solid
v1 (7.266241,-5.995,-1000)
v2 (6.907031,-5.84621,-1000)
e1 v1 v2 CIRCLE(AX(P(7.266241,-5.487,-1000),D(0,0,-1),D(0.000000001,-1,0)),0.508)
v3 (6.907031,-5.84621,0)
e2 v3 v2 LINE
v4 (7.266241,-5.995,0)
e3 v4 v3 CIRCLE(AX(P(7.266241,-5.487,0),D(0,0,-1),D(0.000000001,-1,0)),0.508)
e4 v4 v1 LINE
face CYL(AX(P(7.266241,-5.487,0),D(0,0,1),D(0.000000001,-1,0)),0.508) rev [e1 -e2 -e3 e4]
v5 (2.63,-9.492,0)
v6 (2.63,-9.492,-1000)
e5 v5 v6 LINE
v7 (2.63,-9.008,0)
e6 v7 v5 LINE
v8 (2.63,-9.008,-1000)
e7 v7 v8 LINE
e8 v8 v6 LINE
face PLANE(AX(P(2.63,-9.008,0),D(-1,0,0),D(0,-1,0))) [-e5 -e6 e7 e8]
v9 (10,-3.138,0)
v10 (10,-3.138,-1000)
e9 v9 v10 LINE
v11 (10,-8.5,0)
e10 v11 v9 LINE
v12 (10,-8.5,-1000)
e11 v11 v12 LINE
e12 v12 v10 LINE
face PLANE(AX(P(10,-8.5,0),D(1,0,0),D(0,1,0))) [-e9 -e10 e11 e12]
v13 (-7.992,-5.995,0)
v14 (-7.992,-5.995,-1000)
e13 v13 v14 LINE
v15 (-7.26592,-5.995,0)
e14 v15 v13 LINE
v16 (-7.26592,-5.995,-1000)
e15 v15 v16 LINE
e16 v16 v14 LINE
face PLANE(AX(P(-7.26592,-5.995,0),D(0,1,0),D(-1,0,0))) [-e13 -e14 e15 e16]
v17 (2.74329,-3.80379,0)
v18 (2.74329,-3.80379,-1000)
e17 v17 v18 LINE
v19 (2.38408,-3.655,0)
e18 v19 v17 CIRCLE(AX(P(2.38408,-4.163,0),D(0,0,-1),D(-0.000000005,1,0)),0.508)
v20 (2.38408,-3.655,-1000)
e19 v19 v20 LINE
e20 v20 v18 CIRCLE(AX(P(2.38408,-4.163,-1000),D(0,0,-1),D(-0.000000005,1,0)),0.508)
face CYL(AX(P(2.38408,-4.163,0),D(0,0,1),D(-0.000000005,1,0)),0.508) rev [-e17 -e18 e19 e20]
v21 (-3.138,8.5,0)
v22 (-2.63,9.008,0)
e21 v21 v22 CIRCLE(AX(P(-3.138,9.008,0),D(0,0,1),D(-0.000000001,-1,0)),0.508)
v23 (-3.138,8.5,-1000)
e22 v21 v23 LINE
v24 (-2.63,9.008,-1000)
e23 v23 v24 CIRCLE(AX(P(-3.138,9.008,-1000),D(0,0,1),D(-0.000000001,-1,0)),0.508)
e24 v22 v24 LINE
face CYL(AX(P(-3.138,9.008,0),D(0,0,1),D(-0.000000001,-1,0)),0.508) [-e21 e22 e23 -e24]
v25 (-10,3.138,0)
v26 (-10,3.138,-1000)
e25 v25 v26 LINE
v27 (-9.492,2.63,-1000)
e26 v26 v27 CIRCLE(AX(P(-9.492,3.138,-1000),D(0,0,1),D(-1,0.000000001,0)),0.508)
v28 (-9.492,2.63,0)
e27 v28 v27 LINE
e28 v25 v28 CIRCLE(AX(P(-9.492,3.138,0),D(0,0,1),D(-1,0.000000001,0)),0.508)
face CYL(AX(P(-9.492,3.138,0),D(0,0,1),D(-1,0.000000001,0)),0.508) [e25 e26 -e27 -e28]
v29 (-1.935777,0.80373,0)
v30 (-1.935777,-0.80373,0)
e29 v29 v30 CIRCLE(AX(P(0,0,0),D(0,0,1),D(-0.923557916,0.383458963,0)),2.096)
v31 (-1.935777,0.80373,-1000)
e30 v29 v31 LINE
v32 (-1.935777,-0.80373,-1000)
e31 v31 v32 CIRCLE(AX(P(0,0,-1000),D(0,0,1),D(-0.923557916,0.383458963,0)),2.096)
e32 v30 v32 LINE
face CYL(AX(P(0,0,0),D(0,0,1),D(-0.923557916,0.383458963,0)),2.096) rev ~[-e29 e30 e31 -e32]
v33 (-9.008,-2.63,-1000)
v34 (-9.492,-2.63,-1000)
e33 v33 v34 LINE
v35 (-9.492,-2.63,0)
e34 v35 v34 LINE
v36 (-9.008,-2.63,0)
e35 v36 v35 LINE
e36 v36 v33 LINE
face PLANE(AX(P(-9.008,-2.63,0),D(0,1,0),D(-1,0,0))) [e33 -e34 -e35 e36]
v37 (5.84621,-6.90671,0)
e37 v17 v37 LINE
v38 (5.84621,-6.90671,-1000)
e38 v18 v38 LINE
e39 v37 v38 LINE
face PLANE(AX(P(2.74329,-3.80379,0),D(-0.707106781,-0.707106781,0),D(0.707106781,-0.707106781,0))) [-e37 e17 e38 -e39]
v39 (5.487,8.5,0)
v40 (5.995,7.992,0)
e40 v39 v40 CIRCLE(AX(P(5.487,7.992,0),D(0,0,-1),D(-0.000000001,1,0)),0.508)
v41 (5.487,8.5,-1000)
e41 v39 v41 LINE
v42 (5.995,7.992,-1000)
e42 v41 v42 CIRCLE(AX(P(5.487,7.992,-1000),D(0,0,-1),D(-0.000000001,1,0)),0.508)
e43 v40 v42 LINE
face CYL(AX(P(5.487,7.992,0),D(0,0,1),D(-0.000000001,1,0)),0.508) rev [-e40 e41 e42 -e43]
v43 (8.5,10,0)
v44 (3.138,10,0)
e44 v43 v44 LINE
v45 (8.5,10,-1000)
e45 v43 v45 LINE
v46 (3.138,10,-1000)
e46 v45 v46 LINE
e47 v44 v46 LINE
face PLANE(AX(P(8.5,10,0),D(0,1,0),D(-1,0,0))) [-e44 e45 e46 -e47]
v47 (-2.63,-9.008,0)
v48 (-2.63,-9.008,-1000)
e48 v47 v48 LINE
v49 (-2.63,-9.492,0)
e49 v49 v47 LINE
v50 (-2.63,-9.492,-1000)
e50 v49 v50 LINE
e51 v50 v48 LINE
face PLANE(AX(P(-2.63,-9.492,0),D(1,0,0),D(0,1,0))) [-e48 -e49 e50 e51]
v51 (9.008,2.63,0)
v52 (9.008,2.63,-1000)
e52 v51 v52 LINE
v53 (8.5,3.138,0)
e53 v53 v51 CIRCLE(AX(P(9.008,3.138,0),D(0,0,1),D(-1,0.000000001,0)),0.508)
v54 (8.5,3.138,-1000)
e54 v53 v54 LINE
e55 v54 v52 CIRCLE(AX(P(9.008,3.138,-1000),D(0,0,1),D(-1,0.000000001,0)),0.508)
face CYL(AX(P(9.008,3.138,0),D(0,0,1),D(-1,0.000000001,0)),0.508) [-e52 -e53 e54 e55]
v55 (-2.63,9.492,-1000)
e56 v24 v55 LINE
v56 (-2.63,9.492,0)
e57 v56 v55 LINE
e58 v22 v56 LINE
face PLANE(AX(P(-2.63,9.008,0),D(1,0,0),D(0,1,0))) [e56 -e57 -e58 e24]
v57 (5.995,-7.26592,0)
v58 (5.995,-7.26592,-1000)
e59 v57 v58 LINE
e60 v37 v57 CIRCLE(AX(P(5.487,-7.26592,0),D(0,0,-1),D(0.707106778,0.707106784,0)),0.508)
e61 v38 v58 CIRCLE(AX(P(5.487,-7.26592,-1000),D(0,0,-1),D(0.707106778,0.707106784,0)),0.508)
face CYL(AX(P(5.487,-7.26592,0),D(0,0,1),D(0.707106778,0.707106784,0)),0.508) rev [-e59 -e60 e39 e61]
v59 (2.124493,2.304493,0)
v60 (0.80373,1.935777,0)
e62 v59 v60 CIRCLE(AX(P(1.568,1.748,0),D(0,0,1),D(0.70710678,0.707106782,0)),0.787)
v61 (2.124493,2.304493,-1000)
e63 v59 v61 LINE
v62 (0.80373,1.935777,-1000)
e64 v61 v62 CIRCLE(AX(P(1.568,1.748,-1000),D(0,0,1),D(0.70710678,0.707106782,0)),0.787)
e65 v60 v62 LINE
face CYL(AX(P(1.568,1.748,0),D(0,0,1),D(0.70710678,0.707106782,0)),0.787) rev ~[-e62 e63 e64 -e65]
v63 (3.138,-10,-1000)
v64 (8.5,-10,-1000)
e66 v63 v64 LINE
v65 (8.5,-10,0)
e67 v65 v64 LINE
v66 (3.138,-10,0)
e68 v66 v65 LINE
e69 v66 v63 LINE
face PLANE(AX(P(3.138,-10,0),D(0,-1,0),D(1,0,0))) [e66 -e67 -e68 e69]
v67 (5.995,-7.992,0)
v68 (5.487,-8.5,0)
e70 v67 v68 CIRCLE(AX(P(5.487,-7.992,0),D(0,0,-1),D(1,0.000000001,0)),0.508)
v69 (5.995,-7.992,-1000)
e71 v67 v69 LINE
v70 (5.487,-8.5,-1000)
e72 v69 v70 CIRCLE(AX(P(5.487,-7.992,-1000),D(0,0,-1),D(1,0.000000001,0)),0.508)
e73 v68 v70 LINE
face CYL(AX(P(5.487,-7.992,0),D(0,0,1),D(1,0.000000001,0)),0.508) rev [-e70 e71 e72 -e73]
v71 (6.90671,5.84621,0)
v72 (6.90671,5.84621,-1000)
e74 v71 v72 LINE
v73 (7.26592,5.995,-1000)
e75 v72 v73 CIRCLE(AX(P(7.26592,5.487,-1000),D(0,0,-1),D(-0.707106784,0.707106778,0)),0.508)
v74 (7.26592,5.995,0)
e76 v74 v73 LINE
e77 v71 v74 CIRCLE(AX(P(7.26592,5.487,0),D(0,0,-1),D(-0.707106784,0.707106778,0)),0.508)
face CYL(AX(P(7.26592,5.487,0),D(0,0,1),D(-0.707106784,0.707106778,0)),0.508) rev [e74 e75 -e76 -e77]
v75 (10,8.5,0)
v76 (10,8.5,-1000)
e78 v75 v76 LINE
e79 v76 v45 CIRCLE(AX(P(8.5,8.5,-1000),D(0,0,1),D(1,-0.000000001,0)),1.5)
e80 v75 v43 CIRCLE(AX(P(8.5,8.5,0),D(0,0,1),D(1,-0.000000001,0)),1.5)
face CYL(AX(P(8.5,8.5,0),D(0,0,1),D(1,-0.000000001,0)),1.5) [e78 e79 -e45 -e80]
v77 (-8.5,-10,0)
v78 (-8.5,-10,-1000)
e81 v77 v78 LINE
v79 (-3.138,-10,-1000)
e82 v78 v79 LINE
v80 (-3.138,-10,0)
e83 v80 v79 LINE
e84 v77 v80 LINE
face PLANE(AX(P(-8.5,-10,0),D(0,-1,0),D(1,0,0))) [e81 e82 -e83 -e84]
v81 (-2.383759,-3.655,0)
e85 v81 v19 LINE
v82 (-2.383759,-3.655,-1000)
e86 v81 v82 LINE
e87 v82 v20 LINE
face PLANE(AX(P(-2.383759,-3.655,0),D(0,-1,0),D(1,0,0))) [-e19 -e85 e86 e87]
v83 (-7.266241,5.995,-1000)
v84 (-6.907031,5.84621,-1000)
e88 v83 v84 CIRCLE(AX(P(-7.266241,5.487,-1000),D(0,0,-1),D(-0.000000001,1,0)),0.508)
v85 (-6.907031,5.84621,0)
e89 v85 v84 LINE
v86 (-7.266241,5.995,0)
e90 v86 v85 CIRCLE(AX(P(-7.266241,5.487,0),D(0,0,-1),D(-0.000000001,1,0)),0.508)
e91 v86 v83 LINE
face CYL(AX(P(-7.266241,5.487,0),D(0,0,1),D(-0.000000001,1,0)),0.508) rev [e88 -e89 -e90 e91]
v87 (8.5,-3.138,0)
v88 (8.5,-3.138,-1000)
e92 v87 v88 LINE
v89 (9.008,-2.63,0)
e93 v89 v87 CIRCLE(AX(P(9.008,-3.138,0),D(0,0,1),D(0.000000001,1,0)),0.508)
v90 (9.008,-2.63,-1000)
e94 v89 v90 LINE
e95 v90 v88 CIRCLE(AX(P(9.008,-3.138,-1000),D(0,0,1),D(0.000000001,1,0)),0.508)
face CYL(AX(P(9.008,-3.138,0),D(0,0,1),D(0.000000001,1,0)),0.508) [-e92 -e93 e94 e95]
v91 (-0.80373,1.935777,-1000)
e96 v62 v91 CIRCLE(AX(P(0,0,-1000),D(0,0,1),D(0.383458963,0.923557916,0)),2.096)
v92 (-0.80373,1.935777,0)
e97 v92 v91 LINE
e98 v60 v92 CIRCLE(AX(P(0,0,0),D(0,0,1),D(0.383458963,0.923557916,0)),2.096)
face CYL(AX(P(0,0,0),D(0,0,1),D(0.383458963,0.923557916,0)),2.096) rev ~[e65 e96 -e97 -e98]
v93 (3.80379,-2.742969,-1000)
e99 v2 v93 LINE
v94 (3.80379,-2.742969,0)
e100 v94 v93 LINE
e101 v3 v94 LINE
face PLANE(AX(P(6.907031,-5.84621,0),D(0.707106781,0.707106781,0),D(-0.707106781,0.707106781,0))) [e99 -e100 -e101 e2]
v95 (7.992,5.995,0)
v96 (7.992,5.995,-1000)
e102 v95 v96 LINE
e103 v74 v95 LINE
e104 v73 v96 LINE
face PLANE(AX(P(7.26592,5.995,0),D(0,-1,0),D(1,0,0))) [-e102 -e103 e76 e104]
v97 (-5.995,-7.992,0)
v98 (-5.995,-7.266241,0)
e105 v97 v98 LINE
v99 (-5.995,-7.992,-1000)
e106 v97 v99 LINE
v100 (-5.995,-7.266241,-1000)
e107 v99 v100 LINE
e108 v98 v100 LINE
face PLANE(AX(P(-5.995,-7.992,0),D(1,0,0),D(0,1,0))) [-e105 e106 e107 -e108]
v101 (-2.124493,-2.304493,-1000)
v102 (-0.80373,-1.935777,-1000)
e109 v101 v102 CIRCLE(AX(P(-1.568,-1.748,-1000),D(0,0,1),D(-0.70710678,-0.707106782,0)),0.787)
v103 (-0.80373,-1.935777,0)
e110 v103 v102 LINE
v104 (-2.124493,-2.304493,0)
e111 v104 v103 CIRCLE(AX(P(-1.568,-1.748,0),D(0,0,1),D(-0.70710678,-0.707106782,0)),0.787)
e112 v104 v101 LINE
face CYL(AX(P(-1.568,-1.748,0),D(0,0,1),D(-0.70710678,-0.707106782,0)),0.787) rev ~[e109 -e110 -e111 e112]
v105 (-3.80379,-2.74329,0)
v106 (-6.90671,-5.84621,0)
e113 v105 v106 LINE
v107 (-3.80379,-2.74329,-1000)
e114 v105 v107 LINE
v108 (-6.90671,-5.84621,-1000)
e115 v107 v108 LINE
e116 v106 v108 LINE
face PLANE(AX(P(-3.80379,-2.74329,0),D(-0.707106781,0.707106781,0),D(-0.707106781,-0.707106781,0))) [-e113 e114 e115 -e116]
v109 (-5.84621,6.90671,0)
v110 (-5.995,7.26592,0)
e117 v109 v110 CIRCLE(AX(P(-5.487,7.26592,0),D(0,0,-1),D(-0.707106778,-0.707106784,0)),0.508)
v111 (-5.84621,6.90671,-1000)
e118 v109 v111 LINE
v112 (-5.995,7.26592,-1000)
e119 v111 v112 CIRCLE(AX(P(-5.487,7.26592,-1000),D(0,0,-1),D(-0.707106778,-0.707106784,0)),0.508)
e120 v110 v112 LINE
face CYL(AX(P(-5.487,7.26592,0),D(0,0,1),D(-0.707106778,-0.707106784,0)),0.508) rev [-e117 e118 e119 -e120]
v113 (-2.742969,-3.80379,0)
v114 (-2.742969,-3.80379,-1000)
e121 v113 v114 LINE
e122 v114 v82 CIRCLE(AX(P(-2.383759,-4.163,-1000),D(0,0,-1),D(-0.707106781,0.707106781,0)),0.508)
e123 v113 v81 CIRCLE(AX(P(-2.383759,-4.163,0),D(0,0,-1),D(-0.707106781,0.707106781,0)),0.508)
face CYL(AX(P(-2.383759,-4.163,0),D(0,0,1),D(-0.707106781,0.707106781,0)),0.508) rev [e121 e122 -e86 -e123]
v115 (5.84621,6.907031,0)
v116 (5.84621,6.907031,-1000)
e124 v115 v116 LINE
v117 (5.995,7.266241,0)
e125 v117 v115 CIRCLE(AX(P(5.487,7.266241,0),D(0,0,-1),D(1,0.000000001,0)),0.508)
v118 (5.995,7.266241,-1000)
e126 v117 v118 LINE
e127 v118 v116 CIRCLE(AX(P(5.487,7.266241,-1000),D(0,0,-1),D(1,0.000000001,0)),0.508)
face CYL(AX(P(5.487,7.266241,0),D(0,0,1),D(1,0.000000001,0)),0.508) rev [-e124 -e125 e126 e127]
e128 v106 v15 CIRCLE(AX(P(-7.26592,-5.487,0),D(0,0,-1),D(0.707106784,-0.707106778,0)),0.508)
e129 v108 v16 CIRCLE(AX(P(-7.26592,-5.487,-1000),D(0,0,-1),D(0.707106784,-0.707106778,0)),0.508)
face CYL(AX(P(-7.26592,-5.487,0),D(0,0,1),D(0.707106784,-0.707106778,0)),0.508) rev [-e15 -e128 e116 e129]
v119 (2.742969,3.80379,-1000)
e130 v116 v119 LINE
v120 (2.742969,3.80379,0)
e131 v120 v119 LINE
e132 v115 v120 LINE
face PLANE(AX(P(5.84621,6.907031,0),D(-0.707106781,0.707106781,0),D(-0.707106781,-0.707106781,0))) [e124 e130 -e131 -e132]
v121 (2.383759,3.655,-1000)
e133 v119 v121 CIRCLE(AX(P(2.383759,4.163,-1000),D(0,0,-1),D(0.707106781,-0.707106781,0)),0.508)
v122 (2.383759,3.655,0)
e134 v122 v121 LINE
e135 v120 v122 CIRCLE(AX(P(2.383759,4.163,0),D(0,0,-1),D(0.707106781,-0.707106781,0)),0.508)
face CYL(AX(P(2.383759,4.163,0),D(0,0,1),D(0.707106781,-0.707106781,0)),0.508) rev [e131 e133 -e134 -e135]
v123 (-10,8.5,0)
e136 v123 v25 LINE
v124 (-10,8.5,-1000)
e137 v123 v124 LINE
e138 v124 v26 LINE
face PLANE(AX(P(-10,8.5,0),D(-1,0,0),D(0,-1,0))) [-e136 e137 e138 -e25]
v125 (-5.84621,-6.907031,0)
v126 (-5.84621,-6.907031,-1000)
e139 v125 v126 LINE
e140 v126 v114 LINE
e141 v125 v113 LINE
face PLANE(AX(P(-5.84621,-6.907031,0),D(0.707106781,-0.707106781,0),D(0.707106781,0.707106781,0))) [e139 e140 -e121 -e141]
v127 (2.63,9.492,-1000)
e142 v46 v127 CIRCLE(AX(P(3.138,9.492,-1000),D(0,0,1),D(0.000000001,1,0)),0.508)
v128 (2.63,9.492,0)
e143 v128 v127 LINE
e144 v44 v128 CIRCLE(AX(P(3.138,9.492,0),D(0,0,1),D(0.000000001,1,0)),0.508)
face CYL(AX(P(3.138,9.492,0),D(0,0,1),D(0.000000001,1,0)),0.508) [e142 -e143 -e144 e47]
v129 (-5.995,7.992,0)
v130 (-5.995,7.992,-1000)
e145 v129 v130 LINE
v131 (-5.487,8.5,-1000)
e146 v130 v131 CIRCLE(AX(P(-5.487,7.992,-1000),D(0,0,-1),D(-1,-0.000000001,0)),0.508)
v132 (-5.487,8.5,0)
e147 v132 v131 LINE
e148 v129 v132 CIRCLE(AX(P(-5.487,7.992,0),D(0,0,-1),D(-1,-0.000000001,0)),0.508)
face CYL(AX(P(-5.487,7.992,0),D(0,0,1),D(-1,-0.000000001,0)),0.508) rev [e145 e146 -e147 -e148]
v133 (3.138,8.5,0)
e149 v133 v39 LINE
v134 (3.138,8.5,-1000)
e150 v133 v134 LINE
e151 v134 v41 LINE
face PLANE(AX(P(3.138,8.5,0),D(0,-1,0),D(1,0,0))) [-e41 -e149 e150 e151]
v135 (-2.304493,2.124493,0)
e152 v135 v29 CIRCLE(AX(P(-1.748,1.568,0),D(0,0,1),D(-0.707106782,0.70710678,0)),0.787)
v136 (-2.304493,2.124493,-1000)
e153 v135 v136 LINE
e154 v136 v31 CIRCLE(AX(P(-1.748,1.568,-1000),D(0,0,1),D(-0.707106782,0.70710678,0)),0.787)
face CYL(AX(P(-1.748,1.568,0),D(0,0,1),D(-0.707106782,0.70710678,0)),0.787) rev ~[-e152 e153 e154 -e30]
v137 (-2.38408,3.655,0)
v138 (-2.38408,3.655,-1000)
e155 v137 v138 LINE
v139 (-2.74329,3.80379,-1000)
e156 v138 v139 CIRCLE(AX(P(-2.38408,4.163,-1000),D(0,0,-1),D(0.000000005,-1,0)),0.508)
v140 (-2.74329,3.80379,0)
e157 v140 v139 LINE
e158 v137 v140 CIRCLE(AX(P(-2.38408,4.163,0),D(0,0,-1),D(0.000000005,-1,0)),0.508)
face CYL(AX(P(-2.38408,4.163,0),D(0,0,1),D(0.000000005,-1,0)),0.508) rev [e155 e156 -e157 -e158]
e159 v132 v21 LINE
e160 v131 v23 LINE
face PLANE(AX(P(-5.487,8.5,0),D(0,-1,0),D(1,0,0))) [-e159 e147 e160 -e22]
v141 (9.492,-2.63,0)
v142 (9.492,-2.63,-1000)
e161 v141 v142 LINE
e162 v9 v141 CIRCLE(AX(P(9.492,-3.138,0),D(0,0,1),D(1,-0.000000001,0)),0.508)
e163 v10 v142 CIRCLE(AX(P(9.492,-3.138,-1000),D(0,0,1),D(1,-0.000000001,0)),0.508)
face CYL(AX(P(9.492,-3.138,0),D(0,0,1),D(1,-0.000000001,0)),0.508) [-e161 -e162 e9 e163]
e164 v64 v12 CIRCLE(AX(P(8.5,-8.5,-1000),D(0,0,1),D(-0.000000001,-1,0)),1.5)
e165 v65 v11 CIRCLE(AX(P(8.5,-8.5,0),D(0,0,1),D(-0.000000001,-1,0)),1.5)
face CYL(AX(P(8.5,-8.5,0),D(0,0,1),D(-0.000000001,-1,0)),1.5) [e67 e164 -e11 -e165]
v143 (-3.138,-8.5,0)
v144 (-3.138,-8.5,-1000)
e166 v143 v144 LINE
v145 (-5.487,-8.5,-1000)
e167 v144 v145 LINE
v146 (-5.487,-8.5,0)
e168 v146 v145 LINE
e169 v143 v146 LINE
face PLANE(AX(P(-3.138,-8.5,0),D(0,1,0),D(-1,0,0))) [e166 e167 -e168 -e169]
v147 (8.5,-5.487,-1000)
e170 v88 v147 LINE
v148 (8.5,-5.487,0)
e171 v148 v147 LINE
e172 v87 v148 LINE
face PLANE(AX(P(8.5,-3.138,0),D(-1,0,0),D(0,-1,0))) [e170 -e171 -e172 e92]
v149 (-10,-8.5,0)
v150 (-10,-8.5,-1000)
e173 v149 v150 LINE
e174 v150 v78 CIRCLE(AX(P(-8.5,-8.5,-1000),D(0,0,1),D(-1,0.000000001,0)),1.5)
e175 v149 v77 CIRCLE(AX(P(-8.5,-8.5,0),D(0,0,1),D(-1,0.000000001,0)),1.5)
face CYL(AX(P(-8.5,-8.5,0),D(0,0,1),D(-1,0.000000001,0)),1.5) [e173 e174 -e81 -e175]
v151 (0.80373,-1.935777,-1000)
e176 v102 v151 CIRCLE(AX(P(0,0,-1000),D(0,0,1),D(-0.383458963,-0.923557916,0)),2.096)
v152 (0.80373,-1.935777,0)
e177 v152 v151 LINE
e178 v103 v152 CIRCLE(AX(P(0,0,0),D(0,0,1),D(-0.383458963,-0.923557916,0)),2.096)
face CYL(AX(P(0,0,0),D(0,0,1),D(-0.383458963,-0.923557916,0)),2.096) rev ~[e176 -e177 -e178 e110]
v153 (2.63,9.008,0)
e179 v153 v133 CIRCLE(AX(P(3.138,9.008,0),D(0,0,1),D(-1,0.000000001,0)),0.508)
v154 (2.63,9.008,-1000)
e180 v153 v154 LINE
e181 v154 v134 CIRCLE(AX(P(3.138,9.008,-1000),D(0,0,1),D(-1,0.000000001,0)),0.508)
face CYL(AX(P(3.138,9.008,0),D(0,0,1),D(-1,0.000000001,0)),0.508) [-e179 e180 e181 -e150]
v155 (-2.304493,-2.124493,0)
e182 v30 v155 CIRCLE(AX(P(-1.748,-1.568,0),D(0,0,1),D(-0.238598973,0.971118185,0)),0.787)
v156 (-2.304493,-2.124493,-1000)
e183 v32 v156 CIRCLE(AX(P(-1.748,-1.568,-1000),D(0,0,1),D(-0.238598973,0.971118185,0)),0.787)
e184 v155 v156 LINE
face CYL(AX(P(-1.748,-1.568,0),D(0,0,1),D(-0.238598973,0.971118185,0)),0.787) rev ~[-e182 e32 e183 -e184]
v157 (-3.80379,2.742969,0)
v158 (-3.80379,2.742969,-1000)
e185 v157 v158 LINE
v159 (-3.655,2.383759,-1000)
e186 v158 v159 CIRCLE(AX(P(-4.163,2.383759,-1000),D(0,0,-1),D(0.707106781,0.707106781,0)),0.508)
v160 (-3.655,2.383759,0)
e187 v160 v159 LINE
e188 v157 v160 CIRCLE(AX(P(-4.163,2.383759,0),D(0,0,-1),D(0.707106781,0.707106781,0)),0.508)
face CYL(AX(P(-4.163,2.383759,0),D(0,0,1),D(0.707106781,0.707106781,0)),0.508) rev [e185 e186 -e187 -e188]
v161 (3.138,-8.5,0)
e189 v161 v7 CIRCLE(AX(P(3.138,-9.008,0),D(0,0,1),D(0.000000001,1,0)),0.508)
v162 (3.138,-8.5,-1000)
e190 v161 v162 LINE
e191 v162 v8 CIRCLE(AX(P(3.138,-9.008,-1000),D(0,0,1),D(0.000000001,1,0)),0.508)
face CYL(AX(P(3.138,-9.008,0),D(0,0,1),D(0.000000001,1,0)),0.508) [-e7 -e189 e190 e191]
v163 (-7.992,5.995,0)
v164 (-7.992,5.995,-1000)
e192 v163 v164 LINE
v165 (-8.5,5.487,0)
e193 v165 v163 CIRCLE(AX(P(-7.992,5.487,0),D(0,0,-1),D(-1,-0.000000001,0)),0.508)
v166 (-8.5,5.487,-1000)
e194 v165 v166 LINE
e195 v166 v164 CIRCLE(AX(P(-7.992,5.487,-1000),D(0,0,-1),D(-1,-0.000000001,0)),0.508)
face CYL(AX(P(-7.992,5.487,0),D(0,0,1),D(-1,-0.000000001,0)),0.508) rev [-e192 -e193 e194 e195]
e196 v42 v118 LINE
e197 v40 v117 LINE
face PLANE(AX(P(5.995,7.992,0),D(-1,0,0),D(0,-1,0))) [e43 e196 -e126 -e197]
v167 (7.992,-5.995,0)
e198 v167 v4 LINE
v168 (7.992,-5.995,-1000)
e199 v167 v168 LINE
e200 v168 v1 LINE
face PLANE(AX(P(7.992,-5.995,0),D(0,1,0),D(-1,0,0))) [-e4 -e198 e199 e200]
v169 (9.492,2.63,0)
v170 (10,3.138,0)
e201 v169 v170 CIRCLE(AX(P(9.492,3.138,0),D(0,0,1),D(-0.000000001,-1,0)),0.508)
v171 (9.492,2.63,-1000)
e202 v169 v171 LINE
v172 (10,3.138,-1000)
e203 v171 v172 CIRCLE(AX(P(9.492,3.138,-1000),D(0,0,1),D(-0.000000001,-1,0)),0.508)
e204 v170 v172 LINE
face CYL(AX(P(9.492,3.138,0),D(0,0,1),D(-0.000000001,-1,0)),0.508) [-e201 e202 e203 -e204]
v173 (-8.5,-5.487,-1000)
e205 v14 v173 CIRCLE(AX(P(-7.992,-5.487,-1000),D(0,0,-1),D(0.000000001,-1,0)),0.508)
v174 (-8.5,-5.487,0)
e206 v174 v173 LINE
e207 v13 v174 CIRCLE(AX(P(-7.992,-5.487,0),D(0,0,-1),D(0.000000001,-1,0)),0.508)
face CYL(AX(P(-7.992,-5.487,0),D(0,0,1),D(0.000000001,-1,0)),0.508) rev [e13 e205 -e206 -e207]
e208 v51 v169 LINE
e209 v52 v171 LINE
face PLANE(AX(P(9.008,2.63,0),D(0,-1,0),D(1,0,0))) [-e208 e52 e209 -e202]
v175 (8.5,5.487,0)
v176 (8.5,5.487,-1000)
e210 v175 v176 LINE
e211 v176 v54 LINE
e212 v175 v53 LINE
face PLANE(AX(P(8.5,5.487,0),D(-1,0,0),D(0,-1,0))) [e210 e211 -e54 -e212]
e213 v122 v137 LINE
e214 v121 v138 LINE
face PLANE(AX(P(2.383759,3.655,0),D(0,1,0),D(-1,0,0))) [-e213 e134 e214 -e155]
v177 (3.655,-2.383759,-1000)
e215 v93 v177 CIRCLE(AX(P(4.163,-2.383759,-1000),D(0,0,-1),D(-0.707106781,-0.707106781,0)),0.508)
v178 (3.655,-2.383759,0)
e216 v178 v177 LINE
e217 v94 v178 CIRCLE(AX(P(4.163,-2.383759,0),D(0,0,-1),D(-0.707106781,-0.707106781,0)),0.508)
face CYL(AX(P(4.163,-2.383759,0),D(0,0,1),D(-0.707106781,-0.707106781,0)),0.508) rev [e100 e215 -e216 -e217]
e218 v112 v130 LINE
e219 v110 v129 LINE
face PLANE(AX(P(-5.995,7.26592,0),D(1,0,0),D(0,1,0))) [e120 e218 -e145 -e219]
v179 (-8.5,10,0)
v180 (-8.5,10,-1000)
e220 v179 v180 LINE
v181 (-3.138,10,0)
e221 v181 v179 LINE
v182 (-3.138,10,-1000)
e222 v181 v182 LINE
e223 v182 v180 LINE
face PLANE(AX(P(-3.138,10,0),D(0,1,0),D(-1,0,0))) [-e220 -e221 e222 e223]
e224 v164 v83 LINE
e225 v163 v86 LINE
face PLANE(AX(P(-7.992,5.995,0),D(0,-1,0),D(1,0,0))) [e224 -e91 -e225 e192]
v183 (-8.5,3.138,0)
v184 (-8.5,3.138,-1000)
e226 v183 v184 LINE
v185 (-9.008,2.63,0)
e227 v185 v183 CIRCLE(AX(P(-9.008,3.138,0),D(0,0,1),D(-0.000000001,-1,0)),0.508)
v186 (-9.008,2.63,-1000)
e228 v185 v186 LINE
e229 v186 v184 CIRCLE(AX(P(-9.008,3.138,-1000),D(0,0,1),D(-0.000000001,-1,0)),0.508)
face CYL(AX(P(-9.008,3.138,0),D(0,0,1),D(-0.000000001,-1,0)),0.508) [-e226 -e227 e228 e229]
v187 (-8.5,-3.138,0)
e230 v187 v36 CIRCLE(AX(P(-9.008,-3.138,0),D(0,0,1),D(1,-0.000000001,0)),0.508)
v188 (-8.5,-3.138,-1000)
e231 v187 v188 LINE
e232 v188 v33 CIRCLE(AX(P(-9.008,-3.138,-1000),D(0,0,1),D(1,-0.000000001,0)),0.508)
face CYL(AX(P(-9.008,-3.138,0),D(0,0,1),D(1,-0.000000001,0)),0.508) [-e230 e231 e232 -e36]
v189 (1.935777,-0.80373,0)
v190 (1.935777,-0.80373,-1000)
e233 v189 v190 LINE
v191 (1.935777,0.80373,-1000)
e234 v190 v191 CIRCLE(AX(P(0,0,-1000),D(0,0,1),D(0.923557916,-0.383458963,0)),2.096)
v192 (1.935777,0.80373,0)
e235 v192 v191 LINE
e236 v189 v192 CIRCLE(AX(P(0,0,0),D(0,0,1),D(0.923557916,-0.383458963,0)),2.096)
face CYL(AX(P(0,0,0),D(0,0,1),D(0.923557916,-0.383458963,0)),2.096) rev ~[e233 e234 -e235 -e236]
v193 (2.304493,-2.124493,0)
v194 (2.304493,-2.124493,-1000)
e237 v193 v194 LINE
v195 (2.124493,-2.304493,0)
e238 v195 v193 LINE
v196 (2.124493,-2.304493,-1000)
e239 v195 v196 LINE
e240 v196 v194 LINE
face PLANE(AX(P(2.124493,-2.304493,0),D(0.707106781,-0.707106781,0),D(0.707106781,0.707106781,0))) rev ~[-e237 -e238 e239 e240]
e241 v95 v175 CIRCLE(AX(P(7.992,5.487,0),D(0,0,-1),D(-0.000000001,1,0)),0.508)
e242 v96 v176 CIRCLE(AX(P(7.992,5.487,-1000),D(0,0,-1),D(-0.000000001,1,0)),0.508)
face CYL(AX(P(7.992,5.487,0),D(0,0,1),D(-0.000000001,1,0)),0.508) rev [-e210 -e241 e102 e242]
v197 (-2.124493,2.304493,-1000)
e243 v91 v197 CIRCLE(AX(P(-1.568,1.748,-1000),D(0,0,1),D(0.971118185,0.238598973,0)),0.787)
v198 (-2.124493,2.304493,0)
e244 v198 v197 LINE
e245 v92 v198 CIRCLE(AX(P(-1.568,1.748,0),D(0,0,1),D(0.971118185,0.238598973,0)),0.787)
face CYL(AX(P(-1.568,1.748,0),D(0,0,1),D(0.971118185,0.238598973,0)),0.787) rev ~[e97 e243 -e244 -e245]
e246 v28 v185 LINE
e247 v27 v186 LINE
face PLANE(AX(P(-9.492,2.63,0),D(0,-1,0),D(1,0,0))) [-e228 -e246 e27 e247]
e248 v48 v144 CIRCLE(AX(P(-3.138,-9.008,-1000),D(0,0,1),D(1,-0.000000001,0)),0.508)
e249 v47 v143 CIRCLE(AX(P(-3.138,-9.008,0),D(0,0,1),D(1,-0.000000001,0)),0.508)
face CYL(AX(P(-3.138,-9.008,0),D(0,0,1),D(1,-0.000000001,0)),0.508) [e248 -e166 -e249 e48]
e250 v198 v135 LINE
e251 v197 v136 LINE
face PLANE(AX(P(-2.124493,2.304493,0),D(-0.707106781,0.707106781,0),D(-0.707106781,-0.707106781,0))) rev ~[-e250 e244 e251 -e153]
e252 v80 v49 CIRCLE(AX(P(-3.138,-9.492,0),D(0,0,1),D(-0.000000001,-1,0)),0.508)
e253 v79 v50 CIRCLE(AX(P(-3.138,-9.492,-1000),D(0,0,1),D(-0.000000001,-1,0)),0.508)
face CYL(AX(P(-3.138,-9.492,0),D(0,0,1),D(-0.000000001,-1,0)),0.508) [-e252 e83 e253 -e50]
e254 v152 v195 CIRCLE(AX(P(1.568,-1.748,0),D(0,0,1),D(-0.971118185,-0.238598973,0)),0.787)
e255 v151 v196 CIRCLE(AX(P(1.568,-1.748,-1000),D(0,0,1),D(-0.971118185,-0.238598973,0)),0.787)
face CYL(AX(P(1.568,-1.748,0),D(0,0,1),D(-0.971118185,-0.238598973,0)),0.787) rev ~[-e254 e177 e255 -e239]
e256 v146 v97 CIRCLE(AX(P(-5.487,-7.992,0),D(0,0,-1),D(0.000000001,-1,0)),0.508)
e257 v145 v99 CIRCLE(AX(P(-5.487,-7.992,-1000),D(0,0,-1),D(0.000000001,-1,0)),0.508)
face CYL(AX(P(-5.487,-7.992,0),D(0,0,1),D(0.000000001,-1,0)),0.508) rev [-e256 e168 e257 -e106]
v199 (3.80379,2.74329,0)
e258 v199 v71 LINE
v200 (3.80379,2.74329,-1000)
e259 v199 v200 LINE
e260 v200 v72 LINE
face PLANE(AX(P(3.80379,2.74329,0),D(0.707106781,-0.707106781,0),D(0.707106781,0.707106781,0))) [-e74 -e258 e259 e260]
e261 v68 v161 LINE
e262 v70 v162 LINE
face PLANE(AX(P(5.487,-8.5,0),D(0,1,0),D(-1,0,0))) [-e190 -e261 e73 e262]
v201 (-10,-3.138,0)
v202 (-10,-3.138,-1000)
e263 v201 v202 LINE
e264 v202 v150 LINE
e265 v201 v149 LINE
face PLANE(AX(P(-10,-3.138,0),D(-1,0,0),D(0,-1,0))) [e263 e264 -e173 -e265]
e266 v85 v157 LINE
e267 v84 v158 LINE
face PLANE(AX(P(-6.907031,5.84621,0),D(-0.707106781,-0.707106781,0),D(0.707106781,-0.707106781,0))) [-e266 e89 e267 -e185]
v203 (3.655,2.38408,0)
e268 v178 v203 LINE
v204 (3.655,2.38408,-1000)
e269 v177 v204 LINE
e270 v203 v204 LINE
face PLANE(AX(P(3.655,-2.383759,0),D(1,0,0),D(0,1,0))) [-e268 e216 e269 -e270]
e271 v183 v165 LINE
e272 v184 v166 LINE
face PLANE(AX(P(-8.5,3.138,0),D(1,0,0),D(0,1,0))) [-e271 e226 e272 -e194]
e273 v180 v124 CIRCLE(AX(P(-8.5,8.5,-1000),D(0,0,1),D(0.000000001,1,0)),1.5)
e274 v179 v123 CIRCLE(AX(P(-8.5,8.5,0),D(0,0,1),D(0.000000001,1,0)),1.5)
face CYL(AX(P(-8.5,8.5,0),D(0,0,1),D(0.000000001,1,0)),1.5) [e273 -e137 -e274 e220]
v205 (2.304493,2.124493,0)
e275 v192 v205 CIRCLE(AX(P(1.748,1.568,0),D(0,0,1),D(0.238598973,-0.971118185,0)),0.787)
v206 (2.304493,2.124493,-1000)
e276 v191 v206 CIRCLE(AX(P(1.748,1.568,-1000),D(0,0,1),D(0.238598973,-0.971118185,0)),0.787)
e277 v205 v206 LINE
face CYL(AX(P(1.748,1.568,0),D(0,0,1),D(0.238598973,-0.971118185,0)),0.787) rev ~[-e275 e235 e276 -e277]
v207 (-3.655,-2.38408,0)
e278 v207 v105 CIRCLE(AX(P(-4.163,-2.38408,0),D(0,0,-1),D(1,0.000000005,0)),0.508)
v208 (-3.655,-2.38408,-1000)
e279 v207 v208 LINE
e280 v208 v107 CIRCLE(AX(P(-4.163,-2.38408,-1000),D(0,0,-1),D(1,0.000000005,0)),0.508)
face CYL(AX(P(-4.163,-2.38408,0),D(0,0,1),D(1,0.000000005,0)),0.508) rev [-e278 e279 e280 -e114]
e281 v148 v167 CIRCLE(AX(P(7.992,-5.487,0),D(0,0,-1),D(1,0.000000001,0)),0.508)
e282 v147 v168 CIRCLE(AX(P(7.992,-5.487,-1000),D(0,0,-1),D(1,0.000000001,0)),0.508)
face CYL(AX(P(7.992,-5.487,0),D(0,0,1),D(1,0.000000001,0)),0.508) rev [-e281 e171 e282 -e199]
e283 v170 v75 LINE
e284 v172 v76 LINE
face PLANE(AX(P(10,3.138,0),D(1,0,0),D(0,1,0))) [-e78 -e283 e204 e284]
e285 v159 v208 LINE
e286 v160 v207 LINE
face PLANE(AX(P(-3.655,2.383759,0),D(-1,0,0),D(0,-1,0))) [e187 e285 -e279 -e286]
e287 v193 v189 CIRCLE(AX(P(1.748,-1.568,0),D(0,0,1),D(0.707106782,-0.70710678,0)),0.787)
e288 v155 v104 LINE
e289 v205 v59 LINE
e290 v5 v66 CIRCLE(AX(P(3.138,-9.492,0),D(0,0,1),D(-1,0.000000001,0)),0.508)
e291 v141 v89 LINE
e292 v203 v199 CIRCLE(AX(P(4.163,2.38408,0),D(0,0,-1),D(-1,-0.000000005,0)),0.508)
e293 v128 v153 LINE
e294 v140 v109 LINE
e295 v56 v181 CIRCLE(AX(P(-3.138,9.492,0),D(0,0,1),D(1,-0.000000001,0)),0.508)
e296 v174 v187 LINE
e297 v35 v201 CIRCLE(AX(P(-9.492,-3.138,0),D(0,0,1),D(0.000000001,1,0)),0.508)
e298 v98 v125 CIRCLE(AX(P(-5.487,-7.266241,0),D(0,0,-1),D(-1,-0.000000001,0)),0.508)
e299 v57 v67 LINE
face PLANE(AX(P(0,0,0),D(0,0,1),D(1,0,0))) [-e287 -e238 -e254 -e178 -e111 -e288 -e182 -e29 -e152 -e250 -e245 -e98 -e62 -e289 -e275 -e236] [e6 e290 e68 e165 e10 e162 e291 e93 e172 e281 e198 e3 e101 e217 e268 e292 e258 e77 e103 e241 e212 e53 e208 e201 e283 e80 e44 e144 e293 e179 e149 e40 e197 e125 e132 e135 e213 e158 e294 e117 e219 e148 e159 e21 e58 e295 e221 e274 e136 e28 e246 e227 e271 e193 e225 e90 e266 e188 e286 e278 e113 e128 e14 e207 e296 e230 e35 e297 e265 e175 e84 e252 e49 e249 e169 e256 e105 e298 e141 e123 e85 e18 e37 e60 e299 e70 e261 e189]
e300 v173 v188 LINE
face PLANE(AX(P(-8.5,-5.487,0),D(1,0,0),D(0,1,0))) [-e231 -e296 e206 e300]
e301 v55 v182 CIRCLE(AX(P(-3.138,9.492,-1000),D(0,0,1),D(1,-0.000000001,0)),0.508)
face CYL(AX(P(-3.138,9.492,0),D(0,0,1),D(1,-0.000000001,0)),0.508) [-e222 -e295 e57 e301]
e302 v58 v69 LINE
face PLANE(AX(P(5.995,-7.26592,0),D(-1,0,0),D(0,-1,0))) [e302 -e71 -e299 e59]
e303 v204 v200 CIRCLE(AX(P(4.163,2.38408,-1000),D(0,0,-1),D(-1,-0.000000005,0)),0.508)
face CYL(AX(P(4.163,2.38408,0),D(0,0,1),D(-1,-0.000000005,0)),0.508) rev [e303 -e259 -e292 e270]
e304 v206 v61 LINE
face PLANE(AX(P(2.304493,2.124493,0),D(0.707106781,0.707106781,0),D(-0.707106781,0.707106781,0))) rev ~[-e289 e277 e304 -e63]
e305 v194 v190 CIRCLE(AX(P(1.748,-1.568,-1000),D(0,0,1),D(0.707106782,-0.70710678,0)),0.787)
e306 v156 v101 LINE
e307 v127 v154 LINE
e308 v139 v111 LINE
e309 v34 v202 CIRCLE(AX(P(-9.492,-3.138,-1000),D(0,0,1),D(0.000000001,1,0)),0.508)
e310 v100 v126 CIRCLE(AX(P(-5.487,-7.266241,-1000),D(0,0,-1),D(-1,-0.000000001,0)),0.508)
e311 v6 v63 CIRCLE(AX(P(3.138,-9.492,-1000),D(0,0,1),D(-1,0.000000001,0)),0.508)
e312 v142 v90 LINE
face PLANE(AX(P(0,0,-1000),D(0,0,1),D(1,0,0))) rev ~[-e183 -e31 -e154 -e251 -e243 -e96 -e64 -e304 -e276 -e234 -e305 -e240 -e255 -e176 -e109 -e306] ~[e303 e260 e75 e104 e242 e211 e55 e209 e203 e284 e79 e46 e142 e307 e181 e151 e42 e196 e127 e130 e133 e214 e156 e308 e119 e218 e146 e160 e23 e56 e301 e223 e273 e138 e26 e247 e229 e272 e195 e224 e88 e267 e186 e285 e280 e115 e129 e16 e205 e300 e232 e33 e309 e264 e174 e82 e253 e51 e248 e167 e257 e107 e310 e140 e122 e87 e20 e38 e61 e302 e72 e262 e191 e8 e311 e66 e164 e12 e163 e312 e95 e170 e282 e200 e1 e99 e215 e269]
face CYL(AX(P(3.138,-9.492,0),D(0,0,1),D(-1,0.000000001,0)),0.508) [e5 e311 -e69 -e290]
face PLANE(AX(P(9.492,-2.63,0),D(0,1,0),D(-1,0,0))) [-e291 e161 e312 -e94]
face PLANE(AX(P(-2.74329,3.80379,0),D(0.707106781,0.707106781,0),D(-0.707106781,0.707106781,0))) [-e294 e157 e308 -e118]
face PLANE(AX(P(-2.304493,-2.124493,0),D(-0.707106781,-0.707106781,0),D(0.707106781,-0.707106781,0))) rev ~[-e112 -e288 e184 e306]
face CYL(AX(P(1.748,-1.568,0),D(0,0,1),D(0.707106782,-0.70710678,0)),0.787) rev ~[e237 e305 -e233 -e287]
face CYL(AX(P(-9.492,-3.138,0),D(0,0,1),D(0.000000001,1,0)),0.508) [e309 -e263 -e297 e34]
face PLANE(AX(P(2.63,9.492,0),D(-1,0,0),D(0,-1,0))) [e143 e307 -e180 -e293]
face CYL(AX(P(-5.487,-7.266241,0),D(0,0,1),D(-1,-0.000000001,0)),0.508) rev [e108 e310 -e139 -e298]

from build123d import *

# Parameters (mm, degrees)
BOSS_EXTRUDE1_DEPTH = 1000


with BuildPart() as part:
    # Sketch2 → Boss-Extrude1 (new body)
    with BuildSketch(Plane.XY):
        with BuildLine():
            Line((-10, -3.138), (-10, -8.5))
            ThreePointArc((-10, -8.5), (-9.560660172, -9.560660172), (-8.5, -10))
            Line((-8.5, -10), (-3.138, -10))
            ThreePointArc((-3.138, -10), (-2.778789755, -9.851210245), (-2.63, -9.492))
            Line((-2.63, -9.492), (-2.63, -9.008))
            ThreePointArc((-2.63, -9.008), (-2.778789755, -8.648789755), (-3.138, -8.5))
            Line((-3.138, -8.5), (-5.487, -8.5))
            ThreePointArc((-5.487, -8.5), (-5.846210245, -8.351210245), (-5.995, -7.992))
            Line((-5.995, -7.992), (-5.995, -7.266240833))
            ThreePointArc((-5.995, -7.266240833), (-5.956330803, -7.07183765), (-5.846210245, -6.907030588))
            Line((-5.846210245, -6.907030588), (-2.742969412, -3.803789755))
            ThreePointArc((-2.742969412, -3.803789755), (-2.57816235, -3.693669197), (-2.383759167, -3.655))
            Line((-2.383759167, -3.655), (2.38407951, -3.655))
            ThreePointArc((2.38407951, -3.655), (2.578482694, -3.693669197), (2.743289755, -3.803789755))
            Line((2.743289755, -3.803789755), (5.846210245, -6.906710245))
            ThreePointArc((5.846210245, -6.906710245), (5.956330803, -7.071517306), (5.995, -7.26592049))
            Line((5.995, -7.26592049), (5.995, -7.992))
            ThreePointArc((5.995, -7.992), (5.846210245, -8.351210245), (5.487, -8.5))
            Line((5.487, -8.5), (3.138, -8.5))
            ThreePointArc((3.138, -8.5), (2.778789755, -8.648789755), (2.63, -9.008))
            Line((2.63, -9.008), (2.63, -9.492))
            ThreePointArc((2.63, -9.492), (2.778789755, -9.851210245), (3.138, -10))
            Line((3.138, -10), (8.5, -10))
            ThreePointArc((8.5, -10), (9.560660172, -9.560660172), (10, -8.5))
            Line((10, -8.5), (10, -3.138))
            ThreePointArc((10, -3.138), (9.851210245, -2.778789755), (9.492, -2.63))
            Line((9.492, -2.63), (9.008, -2.63))
            ThreePointArc((9.008, -2.63), (8.648789755, -2.778789755), (8.5, -3.138))
            Line((8.5, -3.138), (8.5, -5.487))
            ThreePointArc((8.5, -5.487), (8.351210245, -5.846210245), (7.992, -5.995))
            Line((7.992, -5.995), (7.266240833, -5.995))
            ThreePointArc((7.266240833, -5.995), (7.07183765, -5.956330803), (6.907030588, -5.846210245))
            Line((6.907030588, -5.846210245), (3.803789755, -2.742969412))
            ThreePointArc((3.803789755, -2.742969412), (3.693669197, -2.57816235), (3.655, -2.383759167))
            Line((3.655, -2.383759167), (3.655, 2.38407951))
            ThreePointArc((3.655, 2.38407951), (3.693669197, 2.578482694), (3.803789755, 2.743289755))
            Line((3.803789755, 2.743289755), (6.906710245, 5.846210245))
            ThreePointArc((6.906710245, 5.846210245), (7.071517306, 5.956330803), (7.26592049, 5.995))
            Line((7.26592049, 5.995), (7.992, 5.995))
            ThreePointArc((7.992, 5.995), (8.351210245, 5.846210245), (8.5, 5.487))
            Line((8.5, 5.487), (8.5, 3.138))
            ThreePointArc((8.5, 3.138), (8.648789755, 2.778789755), (9.008, 2.63))
            Line((9.008, 2.63), (9.492, 2.63))
            ThreePointArc((9.492, 2.63), (9.851210245, 2.778789755), (10, 3.138))
            Line((10, 3.138), (10, 8.5))
            ThreePointArc((10, 8.5), (9.560660172, 9.560660172), (8.5, 10))
            Line((8.5, 10), (3.138, 10))
            ThreePointArc((3.138, 10), (2.778789755, 9.851210245), (2.63, 9.492))
            Line((2.63, 9.492), (2.63, 9.008))
            ThreePointArc((2.63, 9.008), (2.778789755, 8.648789755), (3.138, 8.5))
            Line((3.138, 8.5), (5.487, 8.5))
            ThreePointArc((5.487, 8.5), (5.846210245, 8.351210245), (5.995, 7.992))
            Line((5.995, 7.992), (5.995, 7.266240833))
            ThreePointArc((5.995, 7.266240833), (5.956330803, 7.07183765), (5.846210245, 6.907030588))
            Line((5.846210245, 6.907030588), (2.742969412, 3.803789755))
            ThreePointArc((2.742969412, 3.803789755), (2.57816235, 3.693669197), (2.383759167, 3.655))
            Line((2.383759167, 3.655), (-2.38407951, 3.655))
            ThreePointArc((-2.38407951, 3.655), (-2.578482694, 3.693669197), (-2.743289755, 3.803789755))
            Line((-2.743289755, 3.803789755), (-5.846210245, 6.906710245))
            ThreePointArc((-5.846210245, 6.906710245), (-5.956330803, 7.071517306), (-5.995, 7.26592049))
            Line((-5.995, 7.26592049), (-5.995, 7.992))
            ThreePointArc((-5.995, 7.992), (-5.846210245, 8.351210245), (-5.487, 8.5))
            Line((-5.487, 8.5), (-3.138, 8.5))
            ThreePointArc((-3.138, 8.5), (-2.778789755, 8.648789755), (-2.63, 9.008))
            Line((-2.63, 9.008), (-2.63, 9.492))
            ThreePointArc((-2.63, 9.492), (-2.778789755, 9.851210245), (-3.138, 10))
            Line((-3.138, 10), (-8.5, 10))
            ThreePointArc((-8.5, 10), (-9.560660172, 9.560660172), (-10, 8.5))
            Line((-10, 8.5), (-10, 3.138))
            ThreePointArc((-10, 3.138), (-9.851210245, 2.778789755), (-9.492, 2.63))
            Line((-9.492, 2.63), (-9.008, 2.63))
            ThreePointArc((-9.008, 2.63), (-8.648789755, 2.778789755), (-8.5, 3.138))
            Line((-8.5, 3.138), (-8.5, 5.487))
            ThreePointArc((-8.5, 5.487), (-8.351210245, 5.846210245), (-7.992, 5.995))
            Line((-7.992, 5.995), (-7.266240833, 5.995))
            ThreePointArc((-7.266240833, 5.995), (-7.07183765, 5.956330803), (-6.907030588, 5.846210245))
            Line((-6.907030588, 5.846210245), (-3.803789755, 2.742969412))
            ThreePointArc((-3.803789755, 2.742969412), (-3.693669197, 2.57816235), (-3.655, 2.383759167))
            Line((-3.655, 2.383759167), (-3.655, -2.38407951))
            ThreePointArc((-3.655, -2.38407951), (-3.693669197, -2.578482694), (-3.803789755, -2.743289755))
            Line((-3.803789755, -2.743289755), (-6.906710245, -5.846210245))
            ThreePointArc((-6.906710245, -5.846210245), (-7.071517306, -5.956330803), (-7.26592049, -5.995))
            Line((-7.26592049, -5.995), (-7.992, -5.995))
            ThreePointArc((-7.992, -5.995), (-8.351210245, -5.846210245), (-8.5, -5.487))
            Line((-8.5, -5.487), (-8.5, -3.138))
            ThreePointArc((-8.5, -3.138), (-8.648789755, -2.778789755), (-9.008, -2.63))
            Line((-9.008, -2.63), (-9.492, -2.63))
            ThreePointArc((-9.492, -2.63), (-9.851210245, -2.778789755), (-10, -3.138))
        make_face()
        with BuildLine():
            Line((-2.124493037, 2.304493037), (-2.304493037, 2.124493037))
            ThreePointArc((-2.304493037, 2.124493037), (-2.506016078, 1.35638567), (-1.935777391, 0.803729988))
            ThreePointArc((-1.935777391, 0.803729988), (-2.096, 0), (-1.935777391, -0.803729988))
            ThreePointArc((-1.935777391, -0.803729988), (-2.506016078, -1.35638567), (-2.304493037, -2.124493037))
            Line((-2.304493037, -2.124493037), (-2.124493037, -2.304493037))
            ThreePointArc((-2.124493037, -2.304493037), (-1.35638567, -2.506016078), (-0.803729988, -1.935777391))
            ThreePointArc((-0.803729988, -1.935777391), (0, -2.096), (0.803729988, -1.935777391))
            ThreePointArc((0.803729988, -1.935777391), (1.35638567, -2.506016078), (2.124493037, -2.304493037))
            Line((2.124493037, -2.304493037), (2.304493037, -2.124493037))
            ThreePointArc((2.304493037, -2.124493037), (2.506016078, -1.35638567), (1.935777391, -0.803729988))
            ThreePointArc((1.935777391, -0.803729988), (2.096, 0), (1.935777391, 0.803729988))
            ThreePointArc((1.935777391, 0.803729988), (2.506016078, 1.35638567), (2.304493037, 2.124493037))
            Line((2.304493037, 2.124493037), (2.124493037, 2.304493037))
            ThreePointArc((2.124493037, 2.304493037), (1.35638567, 2.506016078), (0.803729988, 1.935777391))
            ThreePointArc((0.803729988, 1.935777391), (0, 2.096), (-0.803729988, 1.935777391))
            ThreePointArc((-0.803729988, 1.935777391), (-1.35638567, 2.506016078), (-2.124493037, 2.304493037))
        make_face(mode=Mode.SUBTRACT)
    extrude(amount=-BOSS_EXTRUDE1_DEPTH)


solid = part.part
